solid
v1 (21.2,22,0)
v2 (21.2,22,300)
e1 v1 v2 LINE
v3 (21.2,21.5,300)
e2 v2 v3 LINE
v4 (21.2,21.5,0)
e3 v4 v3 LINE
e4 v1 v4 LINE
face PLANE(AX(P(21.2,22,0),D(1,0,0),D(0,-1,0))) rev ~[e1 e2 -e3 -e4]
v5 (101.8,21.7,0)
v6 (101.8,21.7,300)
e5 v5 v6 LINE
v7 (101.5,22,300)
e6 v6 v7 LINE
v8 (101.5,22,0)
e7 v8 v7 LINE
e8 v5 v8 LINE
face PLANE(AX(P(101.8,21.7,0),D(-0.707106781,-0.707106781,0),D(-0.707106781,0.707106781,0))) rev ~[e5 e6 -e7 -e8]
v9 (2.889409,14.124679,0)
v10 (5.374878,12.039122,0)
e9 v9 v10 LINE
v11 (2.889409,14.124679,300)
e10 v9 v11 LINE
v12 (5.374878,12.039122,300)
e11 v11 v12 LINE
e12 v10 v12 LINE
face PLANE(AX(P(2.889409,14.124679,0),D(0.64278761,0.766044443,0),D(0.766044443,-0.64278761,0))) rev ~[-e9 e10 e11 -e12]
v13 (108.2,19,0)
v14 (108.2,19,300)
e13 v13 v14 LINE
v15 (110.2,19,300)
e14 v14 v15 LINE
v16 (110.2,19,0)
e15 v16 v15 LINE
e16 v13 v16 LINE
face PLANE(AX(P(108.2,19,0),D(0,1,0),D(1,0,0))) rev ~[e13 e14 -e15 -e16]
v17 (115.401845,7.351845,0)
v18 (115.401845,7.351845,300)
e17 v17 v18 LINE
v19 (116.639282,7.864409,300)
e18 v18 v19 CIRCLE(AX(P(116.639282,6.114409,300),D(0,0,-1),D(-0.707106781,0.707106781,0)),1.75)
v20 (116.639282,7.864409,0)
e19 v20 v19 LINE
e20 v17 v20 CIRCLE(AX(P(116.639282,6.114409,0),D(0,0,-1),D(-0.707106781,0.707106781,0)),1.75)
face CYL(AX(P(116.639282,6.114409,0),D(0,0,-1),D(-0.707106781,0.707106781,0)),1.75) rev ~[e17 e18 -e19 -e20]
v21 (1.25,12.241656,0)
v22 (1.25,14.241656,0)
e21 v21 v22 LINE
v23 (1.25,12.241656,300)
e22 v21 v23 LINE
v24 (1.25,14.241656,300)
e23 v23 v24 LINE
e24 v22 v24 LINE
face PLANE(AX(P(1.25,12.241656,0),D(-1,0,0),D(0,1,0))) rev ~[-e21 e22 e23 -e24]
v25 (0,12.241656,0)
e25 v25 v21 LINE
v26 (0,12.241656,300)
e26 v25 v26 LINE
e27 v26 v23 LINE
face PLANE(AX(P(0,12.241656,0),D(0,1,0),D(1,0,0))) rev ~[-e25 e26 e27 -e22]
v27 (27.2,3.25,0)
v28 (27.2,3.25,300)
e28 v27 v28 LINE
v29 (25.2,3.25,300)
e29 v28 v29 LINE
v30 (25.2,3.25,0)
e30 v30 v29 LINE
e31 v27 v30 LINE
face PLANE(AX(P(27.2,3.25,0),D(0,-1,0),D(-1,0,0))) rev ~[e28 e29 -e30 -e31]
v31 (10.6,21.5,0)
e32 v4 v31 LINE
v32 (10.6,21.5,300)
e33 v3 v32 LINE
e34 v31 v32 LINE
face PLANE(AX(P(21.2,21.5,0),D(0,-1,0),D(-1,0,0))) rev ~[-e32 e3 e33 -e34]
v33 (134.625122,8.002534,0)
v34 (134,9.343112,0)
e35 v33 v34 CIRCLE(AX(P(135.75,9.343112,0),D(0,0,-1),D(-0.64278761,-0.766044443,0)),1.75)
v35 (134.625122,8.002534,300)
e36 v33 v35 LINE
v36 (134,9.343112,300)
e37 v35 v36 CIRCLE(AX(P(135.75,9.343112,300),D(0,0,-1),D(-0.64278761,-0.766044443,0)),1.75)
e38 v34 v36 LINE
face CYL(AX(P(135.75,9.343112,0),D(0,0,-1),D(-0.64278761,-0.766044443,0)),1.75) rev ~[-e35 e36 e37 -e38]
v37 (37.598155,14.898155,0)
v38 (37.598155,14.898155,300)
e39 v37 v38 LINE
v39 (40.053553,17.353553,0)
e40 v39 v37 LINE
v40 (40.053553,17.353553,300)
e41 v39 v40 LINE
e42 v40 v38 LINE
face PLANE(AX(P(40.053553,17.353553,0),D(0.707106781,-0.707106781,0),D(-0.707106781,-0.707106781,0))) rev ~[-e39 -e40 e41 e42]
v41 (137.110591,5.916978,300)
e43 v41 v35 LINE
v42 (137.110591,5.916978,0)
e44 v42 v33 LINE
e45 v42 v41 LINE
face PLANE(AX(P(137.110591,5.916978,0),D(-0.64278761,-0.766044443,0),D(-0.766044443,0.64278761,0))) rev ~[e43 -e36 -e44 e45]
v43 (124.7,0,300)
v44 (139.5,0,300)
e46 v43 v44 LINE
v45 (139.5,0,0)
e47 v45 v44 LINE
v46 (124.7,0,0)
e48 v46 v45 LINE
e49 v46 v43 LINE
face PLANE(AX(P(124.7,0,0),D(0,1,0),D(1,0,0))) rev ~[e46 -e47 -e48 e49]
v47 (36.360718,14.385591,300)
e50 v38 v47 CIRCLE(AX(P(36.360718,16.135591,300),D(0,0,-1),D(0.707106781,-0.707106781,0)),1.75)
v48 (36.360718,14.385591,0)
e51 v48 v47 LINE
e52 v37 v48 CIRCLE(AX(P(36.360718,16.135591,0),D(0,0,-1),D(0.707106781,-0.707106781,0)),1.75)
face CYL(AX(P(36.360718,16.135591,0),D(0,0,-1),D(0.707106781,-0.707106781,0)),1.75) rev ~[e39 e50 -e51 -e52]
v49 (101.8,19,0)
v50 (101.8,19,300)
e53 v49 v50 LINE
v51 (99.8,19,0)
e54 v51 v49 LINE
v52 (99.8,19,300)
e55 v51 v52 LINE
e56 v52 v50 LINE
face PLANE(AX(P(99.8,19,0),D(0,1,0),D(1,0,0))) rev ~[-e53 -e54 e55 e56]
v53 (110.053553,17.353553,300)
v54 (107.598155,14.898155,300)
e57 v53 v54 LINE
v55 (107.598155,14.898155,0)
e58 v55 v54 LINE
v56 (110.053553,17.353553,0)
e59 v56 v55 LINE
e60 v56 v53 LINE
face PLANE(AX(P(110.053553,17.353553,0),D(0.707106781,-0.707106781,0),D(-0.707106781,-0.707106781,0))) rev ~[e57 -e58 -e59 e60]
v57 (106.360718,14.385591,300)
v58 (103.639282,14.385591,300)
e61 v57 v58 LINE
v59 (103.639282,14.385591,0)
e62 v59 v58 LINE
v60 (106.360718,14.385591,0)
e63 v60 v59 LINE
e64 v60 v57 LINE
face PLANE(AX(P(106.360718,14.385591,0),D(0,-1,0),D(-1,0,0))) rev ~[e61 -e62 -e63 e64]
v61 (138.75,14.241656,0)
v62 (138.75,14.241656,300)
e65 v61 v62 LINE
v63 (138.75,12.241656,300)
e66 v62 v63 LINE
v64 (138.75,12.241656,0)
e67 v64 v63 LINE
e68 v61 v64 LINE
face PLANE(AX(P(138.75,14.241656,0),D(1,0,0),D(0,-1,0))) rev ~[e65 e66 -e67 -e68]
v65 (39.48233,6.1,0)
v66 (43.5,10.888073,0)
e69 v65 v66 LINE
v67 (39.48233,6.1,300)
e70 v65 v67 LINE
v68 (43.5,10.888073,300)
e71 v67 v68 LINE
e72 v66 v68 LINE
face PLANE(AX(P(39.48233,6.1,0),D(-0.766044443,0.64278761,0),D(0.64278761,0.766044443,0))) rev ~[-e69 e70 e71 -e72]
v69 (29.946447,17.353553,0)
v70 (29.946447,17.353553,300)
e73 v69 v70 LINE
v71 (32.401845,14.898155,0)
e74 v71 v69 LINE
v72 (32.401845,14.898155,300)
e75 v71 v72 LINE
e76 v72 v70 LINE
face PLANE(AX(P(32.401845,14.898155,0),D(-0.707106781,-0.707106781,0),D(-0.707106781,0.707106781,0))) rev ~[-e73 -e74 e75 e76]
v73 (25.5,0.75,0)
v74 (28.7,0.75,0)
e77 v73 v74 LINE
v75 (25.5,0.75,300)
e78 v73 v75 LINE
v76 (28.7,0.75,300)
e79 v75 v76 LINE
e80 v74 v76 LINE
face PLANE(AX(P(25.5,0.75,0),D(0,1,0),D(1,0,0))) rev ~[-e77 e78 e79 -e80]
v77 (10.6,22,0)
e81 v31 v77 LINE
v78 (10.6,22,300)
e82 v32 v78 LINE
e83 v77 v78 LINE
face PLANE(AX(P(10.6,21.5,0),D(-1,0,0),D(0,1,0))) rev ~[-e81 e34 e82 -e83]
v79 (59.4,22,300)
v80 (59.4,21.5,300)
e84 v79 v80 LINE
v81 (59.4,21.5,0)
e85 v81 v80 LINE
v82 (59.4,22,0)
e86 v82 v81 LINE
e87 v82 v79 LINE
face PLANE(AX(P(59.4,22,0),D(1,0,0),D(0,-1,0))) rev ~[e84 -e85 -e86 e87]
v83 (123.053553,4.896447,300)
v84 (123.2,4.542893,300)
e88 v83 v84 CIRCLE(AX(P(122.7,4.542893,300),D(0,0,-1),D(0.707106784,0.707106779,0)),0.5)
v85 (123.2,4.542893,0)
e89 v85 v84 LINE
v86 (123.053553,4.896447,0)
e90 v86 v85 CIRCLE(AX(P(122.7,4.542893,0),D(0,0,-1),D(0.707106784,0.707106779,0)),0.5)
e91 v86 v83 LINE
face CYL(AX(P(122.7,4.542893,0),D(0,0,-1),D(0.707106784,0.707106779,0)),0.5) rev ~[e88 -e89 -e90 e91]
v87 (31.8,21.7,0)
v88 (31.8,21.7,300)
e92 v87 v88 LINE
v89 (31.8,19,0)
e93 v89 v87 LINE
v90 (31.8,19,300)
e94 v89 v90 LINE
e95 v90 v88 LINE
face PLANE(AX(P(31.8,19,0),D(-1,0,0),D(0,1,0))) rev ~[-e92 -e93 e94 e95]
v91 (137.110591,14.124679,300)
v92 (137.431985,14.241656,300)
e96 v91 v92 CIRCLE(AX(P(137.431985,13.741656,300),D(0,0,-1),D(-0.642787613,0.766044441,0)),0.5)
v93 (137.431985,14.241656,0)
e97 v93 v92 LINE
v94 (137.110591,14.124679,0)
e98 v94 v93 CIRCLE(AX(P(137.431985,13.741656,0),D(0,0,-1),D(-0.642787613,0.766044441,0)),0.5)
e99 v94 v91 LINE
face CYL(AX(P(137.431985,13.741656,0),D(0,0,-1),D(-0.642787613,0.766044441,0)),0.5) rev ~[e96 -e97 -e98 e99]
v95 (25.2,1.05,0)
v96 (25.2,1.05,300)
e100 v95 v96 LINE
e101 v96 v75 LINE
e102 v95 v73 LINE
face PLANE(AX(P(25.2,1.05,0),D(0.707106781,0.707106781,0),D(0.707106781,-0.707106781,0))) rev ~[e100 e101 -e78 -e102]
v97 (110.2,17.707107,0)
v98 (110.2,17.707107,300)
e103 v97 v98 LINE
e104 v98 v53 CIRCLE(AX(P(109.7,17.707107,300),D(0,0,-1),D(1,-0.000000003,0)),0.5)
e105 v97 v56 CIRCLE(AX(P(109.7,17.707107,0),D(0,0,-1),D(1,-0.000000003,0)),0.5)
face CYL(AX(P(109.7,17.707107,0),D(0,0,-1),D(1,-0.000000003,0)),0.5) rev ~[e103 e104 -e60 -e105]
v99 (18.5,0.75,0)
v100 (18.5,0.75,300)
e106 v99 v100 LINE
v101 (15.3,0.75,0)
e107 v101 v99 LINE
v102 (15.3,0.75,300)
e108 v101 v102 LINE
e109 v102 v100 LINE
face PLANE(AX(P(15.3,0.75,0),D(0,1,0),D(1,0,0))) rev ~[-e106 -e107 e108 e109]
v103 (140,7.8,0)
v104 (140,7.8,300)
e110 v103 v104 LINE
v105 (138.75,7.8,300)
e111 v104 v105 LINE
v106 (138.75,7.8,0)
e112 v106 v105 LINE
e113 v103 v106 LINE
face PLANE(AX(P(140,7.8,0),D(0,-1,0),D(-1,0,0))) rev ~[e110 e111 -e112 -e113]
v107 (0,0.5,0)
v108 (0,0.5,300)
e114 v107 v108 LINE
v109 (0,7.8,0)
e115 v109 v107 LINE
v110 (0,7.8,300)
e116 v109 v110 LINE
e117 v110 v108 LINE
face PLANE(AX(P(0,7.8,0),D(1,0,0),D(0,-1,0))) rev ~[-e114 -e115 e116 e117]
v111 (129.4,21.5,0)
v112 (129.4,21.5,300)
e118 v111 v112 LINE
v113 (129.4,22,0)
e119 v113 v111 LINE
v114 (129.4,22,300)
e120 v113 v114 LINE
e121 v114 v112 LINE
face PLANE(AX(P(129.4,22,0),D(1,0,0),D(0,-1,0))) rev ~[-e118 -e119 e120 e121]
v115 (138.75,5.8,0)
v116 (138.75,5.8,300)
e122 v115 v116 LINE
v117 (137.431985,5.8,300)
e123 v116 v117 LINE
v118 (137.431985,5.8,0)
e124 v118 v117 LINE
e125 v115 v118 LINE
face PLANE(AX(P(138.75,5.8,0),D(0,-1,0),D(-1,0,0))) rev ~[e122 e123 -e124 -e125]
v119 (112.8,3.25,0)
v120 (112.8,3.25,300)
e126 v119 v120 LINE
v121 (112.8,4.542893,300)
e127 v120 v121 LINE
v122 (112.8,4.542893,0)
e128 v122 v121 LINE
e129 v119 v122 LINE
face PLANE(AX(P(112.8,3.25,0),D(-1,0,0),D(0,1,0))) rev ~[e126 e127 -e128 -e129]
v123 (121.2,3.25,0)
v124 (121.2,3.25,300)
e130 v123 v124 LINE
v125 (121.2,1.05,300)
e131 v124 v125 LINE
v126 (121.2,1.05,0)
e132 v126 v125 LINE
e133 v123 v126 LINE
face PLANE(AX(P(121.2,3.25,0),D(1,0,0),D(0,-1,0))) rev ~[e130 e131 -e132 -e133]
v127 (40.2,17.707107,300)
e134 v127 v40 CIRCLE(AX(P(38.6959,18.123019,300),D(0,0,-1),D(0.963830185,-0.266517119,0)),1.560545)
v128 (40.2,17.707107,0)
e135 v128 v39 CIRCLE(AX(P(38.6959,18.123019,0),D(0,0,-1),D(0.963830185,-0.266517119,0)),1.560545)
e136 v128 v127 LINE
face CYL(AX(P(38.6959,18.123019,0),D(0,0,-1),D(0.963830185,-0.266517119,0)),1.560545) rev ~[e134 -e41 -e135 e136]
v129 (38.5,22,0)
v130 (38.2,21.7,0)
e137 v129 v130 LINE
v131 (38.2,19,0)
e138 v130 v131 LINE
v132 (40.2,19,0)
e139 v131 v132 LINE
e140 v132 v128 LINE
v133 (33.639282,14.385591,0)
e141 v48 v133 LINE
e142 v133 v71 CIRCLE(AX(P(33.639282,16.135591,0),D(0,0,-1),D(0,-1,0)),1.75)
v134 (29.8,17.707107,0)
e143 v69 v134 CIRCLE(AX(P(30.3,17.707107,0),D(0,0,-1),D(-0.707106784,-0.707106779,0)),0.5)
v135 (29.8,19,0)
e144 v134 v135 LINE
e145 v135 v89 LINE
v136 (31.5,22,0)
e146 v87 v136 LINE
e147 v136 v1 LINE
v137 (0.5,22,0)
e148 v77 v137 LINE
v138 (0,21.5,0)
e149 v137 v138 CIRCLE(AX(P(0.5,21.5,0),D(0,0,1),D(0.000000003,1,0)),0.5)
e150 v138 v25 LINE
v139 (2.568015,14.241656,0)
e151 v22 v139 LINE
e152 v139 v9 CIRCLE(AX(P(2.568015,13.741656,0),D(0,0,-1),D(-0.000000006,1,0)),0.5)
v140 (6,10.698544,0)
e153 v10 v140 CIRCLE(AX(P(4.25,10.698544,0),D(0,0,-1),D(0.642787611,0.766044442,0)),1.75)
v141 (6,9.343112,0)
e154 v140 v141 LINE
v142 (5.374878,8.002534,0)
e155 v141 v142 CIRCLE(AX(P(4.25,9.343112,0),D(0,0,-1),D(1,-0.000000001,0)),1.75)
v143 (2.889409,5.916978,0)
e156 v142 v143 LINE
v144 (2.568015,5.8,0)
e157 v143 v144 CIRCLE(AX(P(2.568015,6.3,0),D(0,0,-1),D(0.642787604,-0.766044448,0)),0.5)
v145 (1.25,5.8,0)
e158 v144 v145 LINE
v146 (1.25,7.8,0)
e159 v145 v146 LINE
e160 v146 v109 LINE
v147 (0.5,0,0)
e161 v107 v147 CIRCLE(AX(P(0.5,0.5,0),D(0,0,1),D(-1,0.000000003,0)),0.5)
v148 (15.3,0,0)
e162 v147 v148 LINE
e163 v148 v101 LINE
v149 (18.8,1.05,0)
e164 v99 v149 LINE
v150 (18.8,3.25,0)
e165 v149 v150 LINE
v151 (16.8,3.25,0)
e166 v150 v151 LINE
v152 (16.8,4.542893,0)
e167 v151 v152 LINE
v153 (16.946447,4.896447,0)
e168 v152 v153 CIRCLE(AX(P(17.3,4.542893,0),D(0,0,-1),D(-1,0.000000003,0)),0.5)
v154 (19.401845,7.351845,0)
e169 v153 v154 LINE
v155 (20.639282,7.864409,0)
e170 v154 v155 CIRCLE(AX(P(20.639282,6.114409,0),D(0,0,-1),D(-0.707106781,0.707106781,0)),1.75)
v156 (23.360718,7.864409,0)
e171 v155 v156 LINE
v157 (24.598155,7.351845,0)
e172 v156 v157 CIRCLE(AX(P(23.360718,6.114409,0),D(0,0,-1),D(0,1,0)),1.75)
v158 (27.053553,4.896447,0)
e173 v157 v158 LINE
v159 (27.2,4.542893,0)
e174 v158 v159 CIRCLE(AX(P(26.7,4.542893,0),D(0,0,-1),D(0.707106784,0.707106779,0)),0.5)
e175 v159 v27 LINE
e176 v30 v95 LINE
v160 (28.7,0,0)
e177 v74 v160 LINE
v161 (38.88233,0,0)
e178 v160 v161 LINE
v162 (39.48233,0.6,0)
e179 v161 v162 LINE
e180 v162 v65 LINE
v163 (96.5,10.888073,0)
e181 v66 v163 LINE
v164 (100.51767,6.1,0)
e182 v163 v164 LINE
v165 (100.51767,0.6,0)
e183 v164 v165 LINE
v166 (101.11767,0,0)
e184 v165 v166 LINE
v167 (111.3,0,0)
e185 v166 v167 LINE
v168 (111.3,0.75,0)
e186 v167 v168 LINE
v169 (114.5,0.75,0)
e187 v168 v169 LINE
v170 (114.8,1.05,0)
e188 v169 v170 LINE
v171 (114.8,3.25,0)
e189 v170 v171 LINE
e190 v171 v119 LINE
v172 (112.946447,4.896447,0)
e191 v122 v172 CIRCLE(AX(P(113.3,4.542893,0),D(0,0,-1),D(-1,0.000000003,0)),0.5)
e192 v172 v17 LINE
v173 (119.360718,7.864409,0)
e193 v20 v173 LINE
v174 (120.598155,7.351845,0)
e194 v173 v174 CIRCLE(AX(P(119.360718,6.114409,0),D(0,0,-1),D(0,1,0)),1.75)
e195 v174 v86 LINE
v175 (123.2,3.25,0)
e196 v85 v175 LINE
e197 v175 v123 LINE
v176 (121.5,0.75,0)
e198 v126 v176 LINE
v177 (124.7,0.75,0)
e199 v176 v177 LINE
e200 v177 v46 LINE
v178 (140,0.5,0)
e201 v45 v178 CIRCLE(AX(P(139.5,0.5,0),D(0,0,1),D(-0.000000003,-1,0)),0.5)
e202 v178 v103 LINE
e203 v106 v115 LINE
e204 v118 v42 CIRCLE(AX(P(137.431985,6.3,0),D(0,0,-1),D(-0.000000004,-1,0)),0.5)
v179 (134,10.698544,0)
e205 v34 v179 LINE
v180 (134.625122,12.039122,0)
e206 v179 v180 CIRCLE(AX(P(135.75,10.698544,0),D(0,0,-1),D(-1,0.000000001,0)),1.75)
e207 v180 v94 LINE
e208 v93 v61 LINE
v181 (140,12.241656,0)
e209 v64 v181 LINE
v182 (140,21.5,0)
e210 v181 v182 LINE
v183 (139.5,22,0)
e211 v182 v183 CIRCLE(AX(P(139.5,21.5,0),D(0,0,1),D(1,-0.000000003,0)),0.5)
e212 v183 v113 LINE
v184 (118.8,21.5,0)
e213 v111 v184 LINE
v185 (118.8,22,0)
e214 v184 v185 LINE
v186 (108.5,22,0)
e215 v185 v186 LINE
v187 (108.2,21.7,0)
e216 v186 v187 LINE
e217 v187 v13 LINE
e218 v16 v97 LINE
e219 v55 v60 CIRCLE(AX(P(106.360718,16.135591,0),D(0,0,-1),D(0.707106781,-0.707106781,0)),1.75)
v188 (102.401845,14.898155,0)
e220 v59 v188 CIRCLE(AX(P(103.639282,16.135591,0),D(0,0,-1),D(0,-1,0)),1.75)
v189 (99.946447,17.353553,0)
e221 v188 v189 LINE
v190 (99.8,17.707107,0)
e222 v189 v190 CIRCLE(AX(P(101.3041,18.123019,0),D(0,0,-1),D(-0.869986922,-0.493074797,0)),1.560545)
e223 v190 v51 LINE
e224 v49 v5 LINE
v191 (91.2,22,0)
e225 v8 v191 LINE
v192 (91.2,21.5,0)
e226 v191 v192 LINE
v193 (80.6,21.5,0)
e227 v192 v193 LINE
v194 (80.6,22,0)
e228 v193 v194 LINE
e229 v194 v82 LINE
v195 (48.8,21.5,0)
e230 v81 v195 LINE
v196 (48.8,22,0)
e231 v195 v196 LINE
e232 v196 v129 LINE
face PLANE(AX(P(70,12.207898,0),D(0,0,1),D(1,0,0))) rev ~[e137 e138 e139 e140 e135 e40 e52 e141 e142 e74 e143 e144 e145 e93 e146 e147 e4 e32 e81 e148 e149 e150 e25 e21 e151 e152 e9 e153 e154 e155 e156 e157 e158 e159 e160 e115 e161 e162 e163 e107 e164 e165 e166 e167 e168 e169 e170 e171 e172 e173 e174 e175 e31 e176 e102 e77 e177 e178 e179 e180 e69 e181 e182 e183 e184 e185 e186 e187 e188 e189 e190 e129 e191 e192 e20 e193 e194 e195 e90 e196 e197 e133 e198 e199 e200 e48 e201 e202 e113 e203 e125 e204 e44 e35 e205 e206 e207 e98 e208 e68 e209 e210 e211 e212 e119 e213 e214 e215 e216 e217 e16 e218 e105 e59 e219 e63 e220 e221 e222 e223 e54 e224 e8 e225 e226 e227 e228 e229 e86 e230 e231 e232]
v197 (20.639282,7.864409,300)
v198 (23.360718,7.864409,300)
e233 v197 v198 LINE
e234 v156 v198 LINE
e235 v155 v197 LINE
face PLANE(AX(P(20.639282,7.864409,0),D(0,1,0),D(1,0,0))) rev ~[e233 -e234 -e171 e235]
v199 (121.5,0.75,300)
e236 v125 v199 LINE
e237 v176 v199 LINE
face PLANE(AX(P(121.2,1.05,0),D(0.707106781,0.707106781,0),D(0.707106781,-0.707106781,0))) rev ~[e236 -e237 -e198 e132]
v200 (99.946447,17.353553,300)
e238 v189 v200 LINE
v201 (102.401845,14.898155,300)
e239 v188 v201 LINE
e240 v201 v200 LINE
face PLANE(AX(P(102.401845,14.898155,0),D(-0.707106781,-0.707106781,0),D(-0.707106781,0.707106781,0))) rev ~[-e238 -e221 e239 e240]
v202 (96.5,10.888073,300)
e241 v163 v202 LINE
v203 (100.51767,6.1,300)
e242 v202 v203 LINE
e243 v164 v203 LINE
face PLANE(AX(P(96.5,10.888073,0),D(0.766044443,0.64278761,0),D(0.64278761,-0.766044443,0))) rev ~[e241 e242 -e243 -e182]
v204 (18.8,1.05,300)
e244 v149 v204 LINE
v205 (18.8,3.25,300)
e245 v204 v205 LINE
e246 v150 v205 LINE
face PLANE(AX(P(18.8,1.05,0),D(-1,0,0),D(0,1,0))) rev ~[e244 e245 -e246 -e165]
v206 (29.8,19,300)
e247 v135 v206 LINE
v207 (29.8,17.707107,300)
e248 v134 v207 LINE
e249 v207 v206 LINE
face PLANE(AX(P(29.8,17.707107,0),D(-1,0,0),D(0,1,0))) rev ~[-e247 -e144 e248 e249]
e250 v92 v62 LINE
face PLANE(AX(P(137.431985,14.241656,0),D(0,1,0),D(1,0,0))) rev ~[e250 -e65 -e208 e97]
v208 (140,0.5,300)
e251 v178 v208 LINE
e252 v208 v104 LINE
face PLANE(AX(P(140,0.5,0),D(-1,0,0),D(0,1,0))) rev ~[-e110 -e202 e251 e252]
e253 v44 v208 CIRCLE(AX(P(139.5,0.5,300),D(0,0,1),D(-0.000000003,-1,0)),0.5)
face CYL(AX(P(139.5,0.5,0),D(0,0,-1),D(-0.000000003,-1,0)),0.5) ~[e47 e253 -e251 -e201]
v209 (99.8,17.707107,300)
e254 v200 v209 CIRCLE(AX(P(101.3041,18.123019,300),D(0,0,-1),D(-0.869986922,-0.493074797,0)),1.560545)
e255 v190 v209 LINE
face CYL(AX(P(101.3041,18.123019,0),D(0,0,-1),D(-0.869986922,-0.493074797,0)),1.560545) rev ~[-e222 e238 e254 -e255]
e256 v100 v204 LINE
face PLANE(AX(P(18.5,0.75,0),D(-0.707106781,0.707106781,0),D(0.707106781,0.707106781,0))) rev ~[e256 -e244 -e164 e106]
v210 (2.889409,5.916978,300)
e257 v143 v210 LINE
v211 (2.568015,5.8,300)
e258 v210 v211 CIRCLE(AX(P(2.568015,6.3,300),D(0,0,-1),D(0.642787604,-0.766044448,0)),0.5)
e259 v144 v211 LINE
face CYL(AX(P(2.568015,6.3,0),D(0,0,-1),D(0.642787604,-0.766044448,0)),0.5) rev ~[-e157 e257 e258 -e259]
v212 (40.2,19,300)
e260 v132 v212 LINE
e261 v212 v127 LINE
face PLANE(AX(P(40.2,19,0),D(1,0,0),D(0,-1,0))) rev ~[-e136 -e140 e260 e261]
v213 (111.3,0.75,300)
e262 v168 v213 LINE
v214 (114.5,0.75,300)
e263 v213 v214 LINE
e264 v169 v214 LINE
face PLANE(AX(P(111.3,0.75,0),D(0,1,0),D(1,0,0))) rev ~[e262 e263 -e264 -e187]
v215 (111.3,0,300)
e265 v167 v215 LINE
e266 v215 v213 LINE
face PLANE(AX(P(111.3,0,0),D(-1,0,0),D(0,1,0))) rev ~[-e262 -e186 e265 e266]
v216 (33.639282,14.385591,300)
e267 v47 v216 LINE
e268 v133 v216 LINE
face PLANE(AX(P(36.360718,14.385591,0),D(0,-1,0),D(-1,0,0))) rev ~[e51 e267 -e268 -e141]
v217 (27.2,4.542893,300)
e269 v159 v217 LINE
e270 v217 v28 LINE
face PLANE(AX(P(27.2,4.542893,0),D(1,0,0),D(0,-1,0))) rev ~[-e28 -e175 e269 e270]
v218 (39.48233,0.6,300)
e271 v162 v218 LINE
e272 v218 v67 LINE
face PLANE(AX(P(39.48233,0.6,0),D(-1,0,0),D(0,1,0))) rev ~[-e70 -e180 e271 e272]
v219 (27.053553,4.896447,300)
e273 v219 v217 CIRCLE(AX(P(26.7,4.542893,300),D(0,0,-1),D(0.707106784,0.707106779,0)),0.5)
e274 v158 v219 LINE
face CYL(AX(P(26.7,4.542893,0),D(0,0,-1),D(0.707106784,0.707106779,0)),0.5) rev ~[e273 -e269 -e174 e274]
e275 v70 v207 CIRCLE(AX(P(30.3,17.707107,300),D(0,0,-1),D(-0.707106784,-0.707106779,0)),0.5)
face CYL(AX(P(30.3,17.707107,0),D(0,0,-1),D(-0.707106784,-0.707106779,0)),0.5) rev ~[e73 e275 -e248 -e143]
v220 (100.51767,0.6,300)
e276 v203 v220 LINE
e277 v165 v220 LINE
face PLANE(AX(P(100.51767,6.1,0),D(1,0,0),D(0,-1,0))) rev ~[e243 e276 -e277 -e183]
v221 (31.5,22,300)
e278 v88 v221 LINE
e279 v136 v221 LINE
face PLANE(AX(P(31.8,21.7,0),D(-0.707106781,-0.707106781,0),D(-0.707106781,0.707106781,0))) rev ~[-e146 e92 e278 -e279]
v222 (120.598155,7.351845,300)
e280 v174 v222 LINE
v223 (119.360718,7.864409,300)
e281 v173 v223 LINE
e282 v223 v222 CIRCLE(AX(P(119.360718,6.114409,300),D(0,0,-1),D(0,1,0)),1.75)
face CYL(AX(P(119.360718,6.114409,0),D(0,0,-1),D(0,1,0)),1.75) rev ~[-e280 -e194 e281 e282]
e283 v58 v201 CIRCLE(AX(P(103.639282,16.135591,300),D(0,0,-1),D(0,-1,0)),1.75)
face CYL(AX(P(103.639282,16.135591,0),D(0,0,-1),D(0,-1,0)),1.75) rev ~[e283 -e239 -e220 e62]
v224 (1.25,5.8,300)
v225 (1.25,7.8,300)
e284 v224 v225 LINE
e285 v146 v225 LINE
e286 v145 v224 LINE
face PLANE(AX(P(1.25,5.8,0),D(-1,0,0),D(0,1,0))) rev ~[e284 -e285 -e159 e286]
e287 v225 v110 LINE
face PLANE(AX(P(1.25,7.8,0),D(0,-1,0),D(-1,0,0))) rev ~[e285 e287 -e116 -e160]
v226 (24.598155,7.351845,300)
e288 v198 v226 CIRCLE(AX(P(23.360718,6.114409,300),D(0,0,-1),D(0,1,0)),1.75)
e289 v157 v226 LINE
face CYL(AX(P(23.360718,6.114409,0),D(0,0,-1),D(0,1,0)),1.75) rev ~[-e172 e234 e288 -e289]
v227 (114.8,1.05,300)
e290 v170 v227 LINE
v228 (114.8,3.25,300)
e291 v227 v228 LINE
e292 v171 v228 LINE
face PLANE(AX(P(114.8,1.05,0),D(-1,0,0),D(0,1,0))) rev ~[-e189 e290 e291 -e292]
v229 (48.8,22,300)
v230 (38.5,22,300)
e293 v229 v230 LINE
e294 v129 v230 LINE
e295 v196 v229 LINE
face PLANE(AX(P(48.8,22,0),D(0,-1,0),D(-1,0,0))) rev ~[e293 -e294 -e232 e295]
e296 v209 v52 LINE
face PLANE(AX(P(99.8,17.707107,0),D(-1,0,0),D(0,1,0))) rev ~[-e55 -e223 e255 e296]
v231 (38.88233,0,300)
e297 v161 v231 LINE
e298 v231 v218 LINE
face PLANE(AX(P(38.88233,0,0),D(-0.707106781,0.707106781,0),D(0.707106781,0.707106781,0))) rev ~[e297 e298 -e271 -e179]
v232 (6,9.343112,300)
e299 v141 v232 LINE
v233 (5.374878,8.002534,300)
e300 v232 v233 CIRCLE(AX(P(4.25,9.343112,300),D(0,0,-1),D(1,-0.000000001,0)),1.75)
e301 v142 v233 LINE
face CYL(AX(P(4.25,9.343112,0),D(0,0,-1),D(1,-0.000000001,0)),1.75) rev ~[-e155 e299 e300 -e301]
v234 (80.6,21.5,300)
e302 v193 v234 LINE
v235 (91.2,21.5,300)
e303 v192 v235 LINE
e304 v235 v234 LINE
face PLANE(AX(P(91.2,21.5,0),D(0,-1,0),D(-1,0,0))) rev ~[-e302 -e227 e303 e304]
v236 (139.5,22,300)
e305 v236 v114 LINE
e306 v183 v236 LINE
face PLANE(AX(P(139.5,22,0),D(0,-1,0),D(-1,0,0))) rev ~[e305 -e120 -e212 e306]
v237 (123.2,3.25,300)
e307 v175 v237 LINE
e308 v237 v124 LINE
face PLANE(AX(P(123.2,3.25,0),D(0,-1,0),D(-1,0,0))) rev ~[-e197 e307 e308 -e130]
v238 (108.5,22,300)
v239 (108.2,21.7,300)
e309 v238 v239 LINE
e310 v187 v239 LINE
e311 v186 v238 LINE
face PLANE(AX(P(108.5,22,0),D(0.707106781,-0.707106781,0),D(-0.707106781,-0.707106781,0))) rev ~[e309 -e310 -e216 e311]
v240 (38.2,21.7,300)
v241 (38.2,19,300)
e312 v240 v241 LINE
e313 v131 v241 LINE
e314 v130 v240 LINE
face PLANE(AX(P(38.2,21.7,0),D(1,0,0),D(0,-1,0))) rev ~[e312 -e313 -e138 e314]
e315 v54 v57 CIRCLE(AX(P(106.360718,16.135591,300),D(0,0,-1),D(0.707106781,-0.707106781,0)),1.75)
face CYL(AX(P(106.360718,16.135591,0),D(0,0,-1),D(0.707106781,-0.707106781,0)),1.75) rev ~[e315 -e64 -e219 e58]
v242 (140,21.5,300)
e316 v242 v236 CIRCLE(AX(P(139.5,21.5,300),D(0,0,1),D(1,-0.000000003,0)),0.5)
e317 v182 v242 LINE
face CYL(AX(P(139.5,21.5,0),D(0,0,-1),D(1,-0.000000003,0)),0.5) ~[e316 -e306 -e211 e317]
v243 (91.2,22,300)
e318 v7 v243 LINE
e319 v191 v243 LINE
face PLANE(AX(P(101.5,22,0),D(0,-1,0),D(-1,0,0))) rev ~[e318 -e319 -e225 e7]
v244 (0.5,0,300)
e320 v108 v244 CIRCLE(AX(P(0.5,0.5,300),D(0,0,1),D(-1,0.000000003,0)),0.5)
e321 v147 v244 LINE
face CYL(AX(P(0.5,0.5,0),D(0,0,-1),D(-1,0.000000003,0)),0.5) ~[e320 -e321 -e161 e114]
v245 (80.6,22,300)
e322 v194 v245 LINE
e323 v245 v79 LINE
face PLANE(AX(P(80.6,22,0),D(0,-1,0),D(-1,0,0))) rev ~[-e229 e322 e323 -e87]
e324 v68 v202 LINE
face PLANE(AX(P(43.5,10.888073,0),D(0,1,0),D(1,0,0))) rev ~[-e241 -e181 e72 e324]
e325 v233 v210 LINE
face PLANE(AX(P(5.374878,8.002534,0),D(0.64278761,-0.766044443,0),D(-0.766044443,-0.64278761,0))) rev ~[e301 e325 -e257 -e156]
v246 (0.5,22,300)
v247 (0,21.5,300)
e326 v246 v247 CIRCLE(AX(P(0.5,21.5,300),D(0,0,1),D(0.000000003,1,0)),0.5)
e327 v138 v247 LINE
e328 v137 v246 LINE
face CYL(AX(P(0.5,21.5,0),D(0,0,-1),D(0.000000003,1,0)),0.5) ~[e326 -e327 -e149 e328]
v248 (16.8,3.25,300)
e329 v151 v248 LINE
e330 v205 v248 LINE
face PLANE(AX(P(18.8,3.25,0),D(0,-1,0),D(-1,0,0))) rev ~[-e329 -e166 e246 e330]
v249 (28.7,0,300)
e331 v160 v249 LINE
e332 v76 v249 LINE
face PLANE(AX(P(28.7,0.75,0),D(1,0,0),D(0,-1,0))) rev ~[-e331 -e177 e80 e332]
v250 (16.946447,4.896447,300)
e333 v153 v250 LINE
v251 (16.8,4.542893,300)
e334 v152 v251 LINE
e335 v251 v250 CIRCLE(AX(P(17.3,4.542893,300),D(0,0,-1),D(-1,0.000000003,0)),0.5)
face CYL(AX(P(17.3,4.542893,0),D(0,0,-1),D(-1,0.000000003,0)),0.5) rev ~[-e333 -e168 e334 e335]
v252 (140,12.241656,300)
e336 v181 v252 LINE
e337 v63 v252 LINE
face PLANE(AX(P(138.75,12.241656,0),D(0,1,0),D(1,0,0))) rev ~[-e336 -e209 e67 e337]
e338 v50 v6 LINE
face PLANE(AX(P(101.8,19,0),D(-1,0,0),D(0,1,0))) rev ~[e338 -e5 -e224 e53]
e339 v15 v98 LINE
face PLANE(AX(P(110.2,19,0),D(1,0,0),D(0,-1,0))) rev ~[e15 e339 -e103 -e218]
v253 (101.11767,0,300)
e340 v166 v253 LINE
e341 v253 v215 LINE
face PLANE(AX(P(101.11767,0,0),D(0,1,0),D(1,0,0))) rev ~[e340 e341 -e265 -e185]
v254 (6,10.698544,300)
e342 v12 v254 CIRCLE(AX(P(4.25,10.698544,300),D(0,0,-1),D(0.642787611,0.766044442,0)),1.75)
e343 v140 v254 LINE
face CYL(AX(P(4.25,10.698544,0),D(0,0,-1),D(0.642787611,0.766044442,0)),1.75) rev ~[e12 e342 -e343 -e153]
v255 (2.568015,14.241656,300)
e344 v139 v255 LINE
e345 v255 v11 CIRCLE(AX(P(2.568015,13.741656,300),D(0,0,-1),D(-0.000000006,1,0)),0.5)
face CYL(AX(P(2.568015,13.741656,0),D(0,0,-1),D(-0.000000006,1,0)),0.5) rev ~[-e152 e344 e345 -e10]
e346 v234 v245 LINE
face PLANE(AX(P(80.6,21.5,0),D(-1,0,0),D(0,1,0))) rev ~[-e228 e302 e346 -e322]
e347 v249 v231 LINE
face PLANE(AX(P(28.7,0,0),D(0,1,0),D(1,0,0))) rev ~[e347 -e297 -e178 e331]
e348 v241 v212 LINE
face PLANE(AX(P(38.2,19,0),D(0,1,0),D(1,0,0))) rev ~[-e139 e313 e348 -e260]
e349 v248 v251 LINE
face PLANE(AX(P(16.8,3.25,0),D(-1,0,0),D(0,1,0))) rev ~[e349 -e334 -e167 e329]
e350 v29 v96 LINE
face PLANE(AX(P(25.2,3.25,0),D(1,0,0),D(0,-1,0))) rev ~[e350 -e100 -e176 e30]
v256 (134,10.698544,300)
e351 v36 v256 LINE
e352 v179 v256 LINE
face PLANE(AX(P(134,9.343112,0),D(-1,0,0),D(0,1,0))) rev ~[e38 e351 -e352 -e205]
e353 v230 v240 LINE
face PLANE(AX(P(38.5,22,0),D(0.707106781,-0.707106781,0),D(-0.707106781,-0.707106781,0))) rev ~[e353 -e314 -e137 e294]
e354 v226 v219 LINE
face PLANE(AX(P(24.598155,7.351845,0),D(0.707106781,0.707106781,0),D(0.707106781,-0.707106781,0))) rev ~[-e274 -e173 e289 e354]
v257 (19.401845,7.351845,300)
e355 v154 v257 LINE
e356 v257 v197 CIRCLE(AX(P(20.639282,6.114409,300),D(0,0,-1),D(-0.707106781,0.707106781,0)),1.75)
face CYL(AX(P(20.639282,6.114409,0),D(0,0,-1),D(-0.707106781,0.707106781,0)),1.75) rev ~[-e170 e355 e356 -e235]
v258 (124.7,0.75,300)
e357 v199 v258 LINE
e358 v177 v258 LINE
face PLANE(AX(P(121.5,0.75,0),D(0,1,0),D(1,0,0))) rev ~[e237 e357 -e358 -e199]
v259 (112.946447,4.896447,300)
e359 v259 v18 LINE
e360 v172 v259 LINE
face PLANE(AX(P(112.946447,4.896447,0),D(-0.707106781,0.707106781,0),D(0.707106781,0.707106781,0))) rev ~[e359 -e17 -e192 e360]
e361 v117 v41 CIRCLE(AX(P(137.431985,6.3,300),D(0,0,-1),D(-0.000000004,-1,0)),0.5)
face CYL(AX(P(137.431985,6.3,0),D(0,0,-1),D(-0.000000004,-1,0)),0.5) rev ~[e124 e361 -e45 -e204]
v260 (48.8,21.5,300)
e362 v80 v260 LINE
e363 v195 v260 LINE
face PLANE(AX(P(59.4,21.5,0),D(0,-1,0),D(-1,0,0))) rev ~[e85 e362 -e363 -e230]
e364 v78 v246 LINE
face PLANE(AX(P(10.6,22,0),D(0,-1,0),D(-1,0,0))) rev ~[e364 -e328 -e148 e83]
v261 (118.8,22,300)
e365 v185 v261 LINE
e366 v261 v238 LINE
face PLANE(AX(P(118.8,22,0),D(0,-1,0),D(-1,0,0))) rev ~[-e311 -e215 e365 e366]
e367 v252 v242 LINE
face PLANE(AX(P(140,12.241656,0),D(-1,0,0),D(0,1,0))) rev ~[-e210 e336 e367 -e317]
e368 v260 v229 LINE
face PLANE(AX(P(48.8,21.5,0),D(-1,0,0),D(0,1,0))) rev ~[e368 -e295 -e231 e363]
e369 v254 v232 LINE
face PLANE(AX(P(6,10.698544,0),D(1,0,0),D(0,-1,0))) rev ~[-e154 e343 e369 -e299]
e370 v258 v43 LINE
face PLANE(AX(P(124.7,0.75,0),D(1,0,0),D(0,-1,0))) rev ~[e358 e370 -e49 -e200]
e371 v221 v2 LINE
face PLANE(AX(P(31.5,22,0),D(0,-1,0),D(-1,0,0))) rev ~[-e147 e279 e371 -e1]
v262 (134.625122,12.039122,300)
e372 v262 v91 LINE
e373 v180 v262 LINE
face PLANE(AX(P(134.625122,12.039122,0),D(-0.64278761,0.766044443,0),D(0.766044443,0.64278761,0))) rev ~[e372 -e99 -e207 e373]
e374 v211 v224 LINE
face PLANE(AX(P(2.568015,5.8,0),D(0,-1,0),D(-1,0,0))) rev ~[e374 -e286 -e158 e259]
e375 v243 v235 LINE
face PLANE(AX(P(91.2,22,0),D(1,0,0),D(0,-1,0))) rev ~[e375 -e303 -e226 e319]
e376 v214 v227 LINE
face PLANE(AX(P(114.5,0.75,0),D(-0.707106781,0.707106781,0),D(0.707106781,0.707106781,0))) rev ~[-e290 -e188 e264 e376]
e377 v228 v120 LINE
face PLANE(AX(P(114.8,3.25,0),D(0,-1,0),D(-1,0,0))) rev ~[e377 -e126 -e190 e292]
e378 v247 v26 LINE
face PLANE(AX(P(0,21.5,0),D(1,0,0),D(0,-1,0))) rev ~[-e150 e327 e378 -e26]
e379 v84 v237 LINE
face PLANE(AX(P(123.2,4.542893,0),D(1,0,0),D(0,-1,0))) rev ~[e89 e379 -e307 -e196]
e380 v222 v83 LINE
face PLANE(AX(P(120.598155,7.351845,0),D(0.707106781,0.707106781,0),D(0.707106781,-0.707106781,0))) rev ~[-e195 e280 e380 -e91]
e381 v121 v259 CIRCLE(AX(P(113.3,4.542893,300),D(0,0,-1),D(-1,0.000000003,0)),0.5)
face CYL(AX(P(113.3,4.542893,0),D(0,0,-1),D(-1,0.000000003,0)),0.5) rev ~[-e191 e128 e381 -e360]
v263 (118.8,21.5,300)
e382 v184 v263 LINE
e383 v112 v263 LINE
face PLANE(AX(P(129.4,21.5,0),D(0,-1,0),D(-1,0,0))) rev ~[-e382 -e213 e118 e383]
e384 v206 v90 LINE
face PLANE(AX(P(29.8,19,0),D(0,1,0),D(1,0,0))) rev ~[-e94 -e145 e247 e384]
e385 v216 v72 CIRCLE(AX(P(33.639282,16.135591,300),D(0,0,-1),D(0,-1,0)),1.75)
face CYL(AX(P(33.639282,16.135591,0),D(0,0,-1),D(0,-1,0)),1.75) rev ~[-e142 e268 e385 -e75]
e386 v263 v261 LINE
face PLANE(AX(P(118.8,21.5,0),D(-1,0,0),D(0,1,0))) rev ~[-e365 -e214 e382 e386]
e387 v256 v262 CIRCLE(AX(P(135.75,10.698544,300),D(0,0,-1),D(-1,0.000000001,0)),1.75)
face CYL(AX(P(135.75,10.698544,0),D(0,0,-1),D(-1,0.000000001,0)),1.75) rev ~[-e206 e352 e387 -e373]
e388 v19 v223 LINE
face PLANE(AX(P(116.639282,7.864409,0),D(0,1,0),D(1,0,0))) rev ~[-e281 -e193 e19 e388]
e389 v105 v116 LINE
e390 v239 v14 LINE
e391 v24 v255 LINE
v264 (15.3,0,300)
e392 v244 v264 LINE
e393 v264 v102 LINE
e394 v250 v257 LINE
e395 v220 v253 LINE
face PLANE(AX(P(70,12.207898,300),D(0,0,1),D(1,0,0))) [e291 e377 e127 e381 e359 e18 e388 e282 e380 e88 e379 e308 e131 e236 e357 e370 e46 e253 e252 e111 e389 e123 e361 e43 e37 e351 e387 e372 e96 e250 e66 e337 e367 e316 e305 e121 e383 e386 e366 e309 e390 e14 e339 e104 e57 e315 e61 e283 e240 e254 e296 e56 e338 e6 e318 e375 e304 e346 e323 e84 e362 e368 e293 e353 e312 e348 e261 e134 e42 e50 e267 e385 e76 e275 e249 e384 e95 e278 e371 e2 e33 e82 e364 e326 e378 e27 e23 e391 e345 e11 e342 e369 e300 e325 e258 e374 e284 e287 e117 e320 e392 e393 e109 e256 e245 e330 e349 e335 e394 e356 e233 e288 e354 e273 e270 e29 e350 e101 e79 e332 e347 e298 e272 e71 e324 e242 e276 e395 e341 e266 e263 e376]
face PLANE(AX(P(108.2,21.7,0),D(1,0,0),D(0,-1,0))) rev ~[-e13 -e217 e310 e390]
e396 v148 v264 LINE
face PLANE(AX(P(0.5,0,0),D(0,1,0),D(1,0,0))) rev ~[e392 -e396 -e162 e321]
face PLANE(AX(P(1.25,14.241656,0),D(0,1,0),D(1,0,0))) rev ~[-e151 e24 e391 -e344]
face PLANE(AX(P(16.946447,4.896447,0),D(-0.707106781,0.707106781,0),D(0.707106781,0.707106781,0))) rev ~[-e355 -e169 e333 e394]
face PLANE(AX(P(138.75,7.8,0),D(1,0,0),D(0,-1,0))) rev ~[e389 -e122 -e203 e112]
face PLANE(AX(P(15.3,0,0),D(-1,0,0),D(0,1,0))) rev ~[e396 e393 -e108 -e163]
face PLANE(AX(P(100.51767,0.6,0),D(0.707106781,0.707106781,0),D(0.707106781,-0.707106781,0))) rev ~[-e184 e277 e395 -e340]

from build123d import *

# Parameters (mm, degrees)
Y_KSEKLIK_EKSTR_ZYON1_DEPTH = 300


with BuildPart() as part:
    # Çizim1 → Yükseklik-Ekstrüzyon1 (new body)
    with BuildSketch(Plane.XY):
        with BuildLine():
            Line((0.5, 0), (15.3, 0))
            Line((15.3, 0), (15.3, 0.75))
            Line((15.3, 0.75), (18.5, 0.75))
            Line((18.5, 0.75), (18.8, 1.05))
            Line((18.8, 1.05), (18.8, 3.25))
            Line((18.8, 3.25), (16.8, 3.25))
            Line((16.8, 3.25), (16.8, 4.542893219))
            ThreePointArc((16.8, 4.542893219), (16.838060234, 4.734234935), (16.946446609, 4.896446609))
            Line((16.946446609, 4.896446609), (19.401845417, 7.351845417))
            ThreePointArc((19.401845417, 7.351845417), (19.969586278, 7.731197732), (20.639282284, 7.86440855))
            Line((20.639282284, 7.86440855), (23.360717716, 7.86440855))
            ThreePointArc((23.360717716, 7.86440855), (24.030413722, 7.731197732), (24.598154583, 7.351845417))
            Line((24.598154583, 7.351845417), (27.053553391, 4.896446609))
            ThreePointArc((27.053553391, 4.896446609), (27.161939766, 4.734234935), (27.2, 4.542893219))
            Line((27.2, 4.542893219), (27.2, 3.25))
            Line((27.2, 3.25), (25.2, 3.25))
            Line((25.2, 3.25), (25.2, 1.05))
            Line((25.2, 1.05), (25.5, 0.75))
            Line((25.5, 0.75), (28.7, 0.75))
            Line((28.7, 0.75), (28.7, 0))
            Line((28.7, 0), (38.882330038, 0))
            Line((38.882330038, 0), (39.482330038, 0.6))
            Line((39.482330038, 0.6), (39.482330038, 6.1))
            Line((39.482330038, 6.1), (43.5, 10.888072611))
            Line((43.5, 10.888072611), (96.5, 10.888072611))
            Line((96.5, 10.888072611), (100.517669962, 6.1))
            Line((100.517669962, 6.1), (100.517669962, 0.6))
            Line((100.517669962, 0.6), (101.117669962, 0))
            Line((101.117669962, 0), (111.3, 0))
            Line((111.3, 0), (111.3, 0.75))
            Line((111.3, 0.75), (114.5, 0.75))
            Line((114.5, 0.75), (114.8, 1.05))
            Line((114.8, 1.05), (114.8, 3.25))
            Line((114.8, 3.25), (112.8, 3.25))
            Line((112.8, 3.25), (112.8, 4.542893219))
            ThreePointArc((112.8, 4.542893219), (112.838060234, 4.734234935), (112.946446609, 4.896446609))
            Line((112.946446609, 4.896446609), (115.401845417, 7.351845417))
            ThreePointArc((115.401845417, 7.351845417), (115.969586278, 7.731197732), (116.639282284, 7.86440855))
            Line((116.639282284, 7.86440855), (119.360717716, 7.86440855))
            ThreePointArc((119.360717716, 7.86440855), (120.030413722, 7.731197732), (120.598154583, 7.351845417))
            Line((120.598154583, 7.351845417), (123.053553391, 4.896446609))
            ThreePointArc((123.053553391, 4.896446609), (123.161939766, 4.734234935), (123.2, 4.542893219))
            Line((123.2, 4.542893219), (123.2, 3.25))
            Line((123.2, 3.25), (121.2, 3.25))
            Line((121.2, 3.25), (121.2, 1.05))
            Line((121.2, 1.05), (121.5, 0.75))
            Line((121.5, 0.75), (124.7, 0.75))
            Line((124.7, 0.75), (124.7, 0))
            Line((124.7, 0), (139.5, 0))
            ThreePointArc((139.5, 0), (139.853553391, 0.146446609), (140, 0.5))
            Line((140, 0.5), (140, 7.8))
            Line((140, 7.8), (138.75, 7.8))
            Line((138.75, 7.8), (138.75, 5.8))
            Line((138.75, 5.8), (137.431985117, 5.8))
            ThreePointArc((137.431985117, 5.8), (137.260975045, 5.83015369), (137.110591312, 5.916977778))
            Line((137.110591312, 5.916977778), (134.625121683, 8.002534428))
            ThreePointArc((134.625121683, 8.002534428), (134.163961373, 8.603530245), (134, 9.343112203))
            Line((134, 9.343112203), (134, 10.698544282))
            ThreePointArc((134, 10.698544282), (134.163961373, 11.43812624), (134.625121683, 12.039122058))
            Line((134.625121683, 12.039122058), (137.110591312, 14.124678707))
            ThreePointArc((137.110591312, 14.124678707), (137.260975045, 14.211502796), (137.431985117, 14.241656485))
            Line((137.431985117, 14.241656485), (138.75, 14.241656485))
            Line((138.75, 14.241656485), (138.75, 12.241656485))
            Line((138.75, 12.241656485), (140, 12.241656485))
            Line((140, 12.241656485), (140, 21.5))
            ThreePointArc((140, 21.5), (139.853553391, 21.853553391), (139.5, 22))
            Line((139.5, 22), (129.4, 22))
            Line((129.4, 22), (129.4, 21.5))
            Line((129.4, 21.5), (118.8, 21.5))
            Line((118.8, 21.5), (118.8, 22))
            Line((118.8, 22), (108.5, 22))
            Line((108.5, 22), (108.2, 21.7))
            Line((108.2, 21.7), (108.2, 19))
            Line((108.2, 19), (110.2, 19))
            Line((110.2, 19), (110.2, 17.707106781))
            ThreePointArc((110.2, 17.707106781), (110.161939766, 17.515765065), (110.053553391, 17.353553391))
            Line((110.053553391, 17.353553391), (107.598154583, 14.898154583))
            ThreePointArc((107.598154583, 14.898154583), (107.030413722, 14.518802268), (106.360717716, 14.38559145))
            Line((106.360717716, 14.38559145), (103.639282284, 14.38559145))
            ThreePointArc((103.639282284, 14.38559145), (102.969586278, 14.518802268), (102.401845417, 14.898154583))
            Line((102.401845417, 14.898154583), (99.946446609, 17.353553391))
            ThreePointArc((99.946446609, 17.353553391), (99.86234478, 17.525824053), (99.8, 17.707106781))
            Line((99.8, 17.707106781), (99.8, 19))
            Line((99.8, 19), (101.8, 19))
            Line((101.8, 19), (101.8, 21.7))
            Line((101.8, 21.7), (101.5, 22))
            Line((101.5, 22), (91.2, 22))
            Line((91.2, 22), (91.2, 21.5))
            Line((91.2, 21.5), (80.6, 21.5))
            Line((80.6, 21.5), (80.6, 22))
            Line((80.6, 22), (59.4, 22))
            Line((59.4, 22), (59.4, 21.5))
            Line((59.4, 21.5), (48.8, 21.5))
            Line((48.8, 21.5), (48.8, 22))
            Line((48.8, 22), (38.5, 22))
            Line((38.5, 22), (38.2, 21.7))
            Line((38.2, 21.7), (38.2, 19))
            Line((38.2, 19), (40.2, 19))
            Line((40.2, 19), (40.2, 17.707106781))
            ThreePointArc((40.2, 17.707106781), (40.13765522, 17.525824053), (40.053553391, 17.353553391))
            Line((40.053553391, 17.353553391), (37.598154583, 14.898154583))
            ThreePointArc((37.598154583, 14.898154583), (37.030413722, 14.518802268), (36.360717716, 14.38559145))
            Line((36.360717716, 14.38559145), (33.639282284, 14.38559145))
            ThreePointArc((33.639282284, 14.38559145), (32.969586278, 14.518802268), (32.401845417, 14.898154583))
            Line((32.401845417, 14.898154583), (29.946446609, 17.353553391))
            ThreePointArc((29.946446609, 17.353553391), (29.838060234, 17.515765065), (29.8, 17.707106781))
            Line((29.8, 17.707106781), (29.8, 19))
            Line((29.8, 19), (31.8, 19))
            Line((31.8, 19), (31.8, 21.7))
            Line((31.8, 21.7), (31.5, 22))
            Line((31.5, 22), (21.2, 22))
            Line((21.2, 22), (21.2, 21.5))
            Line((21.2, 21.5), (10.6, 21.5))
            Line((10.6, 21.5), (10.6, 22))
            Line((10.6, 22), (0.5, 22))
            ThreePointArc((0.5, 22), (0.146446609, 21.853553391), (0, 21.5))
            Line((0, 21.5), (0, 12.241656485))
            Line((0, 12.241656485), (1.25, 12.241656485))
            Line((1.25, 12.241656485), (1.25, 14.241656485))
            Line((1.25, 14.241656485), (2.568014883, 14.241656485))
            ThreePointArc((2.568014883, 14.241656485), (2.739024955, 14.211502796), (2.889408688, 14.124678707))
            Line((2.889408688, 14.124678707), (5.374878317, 12.039122058))
            ThreePointArc((5.374878317, 12.039122058), (5.836038627, 11.43812624), (6, 10.698544282))
            Line((6, 10.698544282), (6, 9.343112203))
            ThreePointArc((6, 9.343112203), (5.836038627, 8.603530245), (5.374878317, 8.002534428))
            Line((5.374878317, 8.002534428), (2.889408688, 5.916977778))
            ThreePointArc((2.889408688, 5.916977778), (2.739024955, 5.83015369), (2.568014883, 5.8))
            Line((2.568014883, 5.8), (1.25, 5.8))
            Line((1.25, 5.8), (1.25, 7.8))
            Line((1.25, 7.8), (0, 7.8))
            Line((0, 7.8), (0, 0.5))
            ThreePointArc((0, 0.5), (0.146446609, 0.146446609), (0.5, 0))
        make_face()
    extrude(amount=Y_KSEKLIK_EKSTR_ZYON1_DEPTH)


solid = part.part
